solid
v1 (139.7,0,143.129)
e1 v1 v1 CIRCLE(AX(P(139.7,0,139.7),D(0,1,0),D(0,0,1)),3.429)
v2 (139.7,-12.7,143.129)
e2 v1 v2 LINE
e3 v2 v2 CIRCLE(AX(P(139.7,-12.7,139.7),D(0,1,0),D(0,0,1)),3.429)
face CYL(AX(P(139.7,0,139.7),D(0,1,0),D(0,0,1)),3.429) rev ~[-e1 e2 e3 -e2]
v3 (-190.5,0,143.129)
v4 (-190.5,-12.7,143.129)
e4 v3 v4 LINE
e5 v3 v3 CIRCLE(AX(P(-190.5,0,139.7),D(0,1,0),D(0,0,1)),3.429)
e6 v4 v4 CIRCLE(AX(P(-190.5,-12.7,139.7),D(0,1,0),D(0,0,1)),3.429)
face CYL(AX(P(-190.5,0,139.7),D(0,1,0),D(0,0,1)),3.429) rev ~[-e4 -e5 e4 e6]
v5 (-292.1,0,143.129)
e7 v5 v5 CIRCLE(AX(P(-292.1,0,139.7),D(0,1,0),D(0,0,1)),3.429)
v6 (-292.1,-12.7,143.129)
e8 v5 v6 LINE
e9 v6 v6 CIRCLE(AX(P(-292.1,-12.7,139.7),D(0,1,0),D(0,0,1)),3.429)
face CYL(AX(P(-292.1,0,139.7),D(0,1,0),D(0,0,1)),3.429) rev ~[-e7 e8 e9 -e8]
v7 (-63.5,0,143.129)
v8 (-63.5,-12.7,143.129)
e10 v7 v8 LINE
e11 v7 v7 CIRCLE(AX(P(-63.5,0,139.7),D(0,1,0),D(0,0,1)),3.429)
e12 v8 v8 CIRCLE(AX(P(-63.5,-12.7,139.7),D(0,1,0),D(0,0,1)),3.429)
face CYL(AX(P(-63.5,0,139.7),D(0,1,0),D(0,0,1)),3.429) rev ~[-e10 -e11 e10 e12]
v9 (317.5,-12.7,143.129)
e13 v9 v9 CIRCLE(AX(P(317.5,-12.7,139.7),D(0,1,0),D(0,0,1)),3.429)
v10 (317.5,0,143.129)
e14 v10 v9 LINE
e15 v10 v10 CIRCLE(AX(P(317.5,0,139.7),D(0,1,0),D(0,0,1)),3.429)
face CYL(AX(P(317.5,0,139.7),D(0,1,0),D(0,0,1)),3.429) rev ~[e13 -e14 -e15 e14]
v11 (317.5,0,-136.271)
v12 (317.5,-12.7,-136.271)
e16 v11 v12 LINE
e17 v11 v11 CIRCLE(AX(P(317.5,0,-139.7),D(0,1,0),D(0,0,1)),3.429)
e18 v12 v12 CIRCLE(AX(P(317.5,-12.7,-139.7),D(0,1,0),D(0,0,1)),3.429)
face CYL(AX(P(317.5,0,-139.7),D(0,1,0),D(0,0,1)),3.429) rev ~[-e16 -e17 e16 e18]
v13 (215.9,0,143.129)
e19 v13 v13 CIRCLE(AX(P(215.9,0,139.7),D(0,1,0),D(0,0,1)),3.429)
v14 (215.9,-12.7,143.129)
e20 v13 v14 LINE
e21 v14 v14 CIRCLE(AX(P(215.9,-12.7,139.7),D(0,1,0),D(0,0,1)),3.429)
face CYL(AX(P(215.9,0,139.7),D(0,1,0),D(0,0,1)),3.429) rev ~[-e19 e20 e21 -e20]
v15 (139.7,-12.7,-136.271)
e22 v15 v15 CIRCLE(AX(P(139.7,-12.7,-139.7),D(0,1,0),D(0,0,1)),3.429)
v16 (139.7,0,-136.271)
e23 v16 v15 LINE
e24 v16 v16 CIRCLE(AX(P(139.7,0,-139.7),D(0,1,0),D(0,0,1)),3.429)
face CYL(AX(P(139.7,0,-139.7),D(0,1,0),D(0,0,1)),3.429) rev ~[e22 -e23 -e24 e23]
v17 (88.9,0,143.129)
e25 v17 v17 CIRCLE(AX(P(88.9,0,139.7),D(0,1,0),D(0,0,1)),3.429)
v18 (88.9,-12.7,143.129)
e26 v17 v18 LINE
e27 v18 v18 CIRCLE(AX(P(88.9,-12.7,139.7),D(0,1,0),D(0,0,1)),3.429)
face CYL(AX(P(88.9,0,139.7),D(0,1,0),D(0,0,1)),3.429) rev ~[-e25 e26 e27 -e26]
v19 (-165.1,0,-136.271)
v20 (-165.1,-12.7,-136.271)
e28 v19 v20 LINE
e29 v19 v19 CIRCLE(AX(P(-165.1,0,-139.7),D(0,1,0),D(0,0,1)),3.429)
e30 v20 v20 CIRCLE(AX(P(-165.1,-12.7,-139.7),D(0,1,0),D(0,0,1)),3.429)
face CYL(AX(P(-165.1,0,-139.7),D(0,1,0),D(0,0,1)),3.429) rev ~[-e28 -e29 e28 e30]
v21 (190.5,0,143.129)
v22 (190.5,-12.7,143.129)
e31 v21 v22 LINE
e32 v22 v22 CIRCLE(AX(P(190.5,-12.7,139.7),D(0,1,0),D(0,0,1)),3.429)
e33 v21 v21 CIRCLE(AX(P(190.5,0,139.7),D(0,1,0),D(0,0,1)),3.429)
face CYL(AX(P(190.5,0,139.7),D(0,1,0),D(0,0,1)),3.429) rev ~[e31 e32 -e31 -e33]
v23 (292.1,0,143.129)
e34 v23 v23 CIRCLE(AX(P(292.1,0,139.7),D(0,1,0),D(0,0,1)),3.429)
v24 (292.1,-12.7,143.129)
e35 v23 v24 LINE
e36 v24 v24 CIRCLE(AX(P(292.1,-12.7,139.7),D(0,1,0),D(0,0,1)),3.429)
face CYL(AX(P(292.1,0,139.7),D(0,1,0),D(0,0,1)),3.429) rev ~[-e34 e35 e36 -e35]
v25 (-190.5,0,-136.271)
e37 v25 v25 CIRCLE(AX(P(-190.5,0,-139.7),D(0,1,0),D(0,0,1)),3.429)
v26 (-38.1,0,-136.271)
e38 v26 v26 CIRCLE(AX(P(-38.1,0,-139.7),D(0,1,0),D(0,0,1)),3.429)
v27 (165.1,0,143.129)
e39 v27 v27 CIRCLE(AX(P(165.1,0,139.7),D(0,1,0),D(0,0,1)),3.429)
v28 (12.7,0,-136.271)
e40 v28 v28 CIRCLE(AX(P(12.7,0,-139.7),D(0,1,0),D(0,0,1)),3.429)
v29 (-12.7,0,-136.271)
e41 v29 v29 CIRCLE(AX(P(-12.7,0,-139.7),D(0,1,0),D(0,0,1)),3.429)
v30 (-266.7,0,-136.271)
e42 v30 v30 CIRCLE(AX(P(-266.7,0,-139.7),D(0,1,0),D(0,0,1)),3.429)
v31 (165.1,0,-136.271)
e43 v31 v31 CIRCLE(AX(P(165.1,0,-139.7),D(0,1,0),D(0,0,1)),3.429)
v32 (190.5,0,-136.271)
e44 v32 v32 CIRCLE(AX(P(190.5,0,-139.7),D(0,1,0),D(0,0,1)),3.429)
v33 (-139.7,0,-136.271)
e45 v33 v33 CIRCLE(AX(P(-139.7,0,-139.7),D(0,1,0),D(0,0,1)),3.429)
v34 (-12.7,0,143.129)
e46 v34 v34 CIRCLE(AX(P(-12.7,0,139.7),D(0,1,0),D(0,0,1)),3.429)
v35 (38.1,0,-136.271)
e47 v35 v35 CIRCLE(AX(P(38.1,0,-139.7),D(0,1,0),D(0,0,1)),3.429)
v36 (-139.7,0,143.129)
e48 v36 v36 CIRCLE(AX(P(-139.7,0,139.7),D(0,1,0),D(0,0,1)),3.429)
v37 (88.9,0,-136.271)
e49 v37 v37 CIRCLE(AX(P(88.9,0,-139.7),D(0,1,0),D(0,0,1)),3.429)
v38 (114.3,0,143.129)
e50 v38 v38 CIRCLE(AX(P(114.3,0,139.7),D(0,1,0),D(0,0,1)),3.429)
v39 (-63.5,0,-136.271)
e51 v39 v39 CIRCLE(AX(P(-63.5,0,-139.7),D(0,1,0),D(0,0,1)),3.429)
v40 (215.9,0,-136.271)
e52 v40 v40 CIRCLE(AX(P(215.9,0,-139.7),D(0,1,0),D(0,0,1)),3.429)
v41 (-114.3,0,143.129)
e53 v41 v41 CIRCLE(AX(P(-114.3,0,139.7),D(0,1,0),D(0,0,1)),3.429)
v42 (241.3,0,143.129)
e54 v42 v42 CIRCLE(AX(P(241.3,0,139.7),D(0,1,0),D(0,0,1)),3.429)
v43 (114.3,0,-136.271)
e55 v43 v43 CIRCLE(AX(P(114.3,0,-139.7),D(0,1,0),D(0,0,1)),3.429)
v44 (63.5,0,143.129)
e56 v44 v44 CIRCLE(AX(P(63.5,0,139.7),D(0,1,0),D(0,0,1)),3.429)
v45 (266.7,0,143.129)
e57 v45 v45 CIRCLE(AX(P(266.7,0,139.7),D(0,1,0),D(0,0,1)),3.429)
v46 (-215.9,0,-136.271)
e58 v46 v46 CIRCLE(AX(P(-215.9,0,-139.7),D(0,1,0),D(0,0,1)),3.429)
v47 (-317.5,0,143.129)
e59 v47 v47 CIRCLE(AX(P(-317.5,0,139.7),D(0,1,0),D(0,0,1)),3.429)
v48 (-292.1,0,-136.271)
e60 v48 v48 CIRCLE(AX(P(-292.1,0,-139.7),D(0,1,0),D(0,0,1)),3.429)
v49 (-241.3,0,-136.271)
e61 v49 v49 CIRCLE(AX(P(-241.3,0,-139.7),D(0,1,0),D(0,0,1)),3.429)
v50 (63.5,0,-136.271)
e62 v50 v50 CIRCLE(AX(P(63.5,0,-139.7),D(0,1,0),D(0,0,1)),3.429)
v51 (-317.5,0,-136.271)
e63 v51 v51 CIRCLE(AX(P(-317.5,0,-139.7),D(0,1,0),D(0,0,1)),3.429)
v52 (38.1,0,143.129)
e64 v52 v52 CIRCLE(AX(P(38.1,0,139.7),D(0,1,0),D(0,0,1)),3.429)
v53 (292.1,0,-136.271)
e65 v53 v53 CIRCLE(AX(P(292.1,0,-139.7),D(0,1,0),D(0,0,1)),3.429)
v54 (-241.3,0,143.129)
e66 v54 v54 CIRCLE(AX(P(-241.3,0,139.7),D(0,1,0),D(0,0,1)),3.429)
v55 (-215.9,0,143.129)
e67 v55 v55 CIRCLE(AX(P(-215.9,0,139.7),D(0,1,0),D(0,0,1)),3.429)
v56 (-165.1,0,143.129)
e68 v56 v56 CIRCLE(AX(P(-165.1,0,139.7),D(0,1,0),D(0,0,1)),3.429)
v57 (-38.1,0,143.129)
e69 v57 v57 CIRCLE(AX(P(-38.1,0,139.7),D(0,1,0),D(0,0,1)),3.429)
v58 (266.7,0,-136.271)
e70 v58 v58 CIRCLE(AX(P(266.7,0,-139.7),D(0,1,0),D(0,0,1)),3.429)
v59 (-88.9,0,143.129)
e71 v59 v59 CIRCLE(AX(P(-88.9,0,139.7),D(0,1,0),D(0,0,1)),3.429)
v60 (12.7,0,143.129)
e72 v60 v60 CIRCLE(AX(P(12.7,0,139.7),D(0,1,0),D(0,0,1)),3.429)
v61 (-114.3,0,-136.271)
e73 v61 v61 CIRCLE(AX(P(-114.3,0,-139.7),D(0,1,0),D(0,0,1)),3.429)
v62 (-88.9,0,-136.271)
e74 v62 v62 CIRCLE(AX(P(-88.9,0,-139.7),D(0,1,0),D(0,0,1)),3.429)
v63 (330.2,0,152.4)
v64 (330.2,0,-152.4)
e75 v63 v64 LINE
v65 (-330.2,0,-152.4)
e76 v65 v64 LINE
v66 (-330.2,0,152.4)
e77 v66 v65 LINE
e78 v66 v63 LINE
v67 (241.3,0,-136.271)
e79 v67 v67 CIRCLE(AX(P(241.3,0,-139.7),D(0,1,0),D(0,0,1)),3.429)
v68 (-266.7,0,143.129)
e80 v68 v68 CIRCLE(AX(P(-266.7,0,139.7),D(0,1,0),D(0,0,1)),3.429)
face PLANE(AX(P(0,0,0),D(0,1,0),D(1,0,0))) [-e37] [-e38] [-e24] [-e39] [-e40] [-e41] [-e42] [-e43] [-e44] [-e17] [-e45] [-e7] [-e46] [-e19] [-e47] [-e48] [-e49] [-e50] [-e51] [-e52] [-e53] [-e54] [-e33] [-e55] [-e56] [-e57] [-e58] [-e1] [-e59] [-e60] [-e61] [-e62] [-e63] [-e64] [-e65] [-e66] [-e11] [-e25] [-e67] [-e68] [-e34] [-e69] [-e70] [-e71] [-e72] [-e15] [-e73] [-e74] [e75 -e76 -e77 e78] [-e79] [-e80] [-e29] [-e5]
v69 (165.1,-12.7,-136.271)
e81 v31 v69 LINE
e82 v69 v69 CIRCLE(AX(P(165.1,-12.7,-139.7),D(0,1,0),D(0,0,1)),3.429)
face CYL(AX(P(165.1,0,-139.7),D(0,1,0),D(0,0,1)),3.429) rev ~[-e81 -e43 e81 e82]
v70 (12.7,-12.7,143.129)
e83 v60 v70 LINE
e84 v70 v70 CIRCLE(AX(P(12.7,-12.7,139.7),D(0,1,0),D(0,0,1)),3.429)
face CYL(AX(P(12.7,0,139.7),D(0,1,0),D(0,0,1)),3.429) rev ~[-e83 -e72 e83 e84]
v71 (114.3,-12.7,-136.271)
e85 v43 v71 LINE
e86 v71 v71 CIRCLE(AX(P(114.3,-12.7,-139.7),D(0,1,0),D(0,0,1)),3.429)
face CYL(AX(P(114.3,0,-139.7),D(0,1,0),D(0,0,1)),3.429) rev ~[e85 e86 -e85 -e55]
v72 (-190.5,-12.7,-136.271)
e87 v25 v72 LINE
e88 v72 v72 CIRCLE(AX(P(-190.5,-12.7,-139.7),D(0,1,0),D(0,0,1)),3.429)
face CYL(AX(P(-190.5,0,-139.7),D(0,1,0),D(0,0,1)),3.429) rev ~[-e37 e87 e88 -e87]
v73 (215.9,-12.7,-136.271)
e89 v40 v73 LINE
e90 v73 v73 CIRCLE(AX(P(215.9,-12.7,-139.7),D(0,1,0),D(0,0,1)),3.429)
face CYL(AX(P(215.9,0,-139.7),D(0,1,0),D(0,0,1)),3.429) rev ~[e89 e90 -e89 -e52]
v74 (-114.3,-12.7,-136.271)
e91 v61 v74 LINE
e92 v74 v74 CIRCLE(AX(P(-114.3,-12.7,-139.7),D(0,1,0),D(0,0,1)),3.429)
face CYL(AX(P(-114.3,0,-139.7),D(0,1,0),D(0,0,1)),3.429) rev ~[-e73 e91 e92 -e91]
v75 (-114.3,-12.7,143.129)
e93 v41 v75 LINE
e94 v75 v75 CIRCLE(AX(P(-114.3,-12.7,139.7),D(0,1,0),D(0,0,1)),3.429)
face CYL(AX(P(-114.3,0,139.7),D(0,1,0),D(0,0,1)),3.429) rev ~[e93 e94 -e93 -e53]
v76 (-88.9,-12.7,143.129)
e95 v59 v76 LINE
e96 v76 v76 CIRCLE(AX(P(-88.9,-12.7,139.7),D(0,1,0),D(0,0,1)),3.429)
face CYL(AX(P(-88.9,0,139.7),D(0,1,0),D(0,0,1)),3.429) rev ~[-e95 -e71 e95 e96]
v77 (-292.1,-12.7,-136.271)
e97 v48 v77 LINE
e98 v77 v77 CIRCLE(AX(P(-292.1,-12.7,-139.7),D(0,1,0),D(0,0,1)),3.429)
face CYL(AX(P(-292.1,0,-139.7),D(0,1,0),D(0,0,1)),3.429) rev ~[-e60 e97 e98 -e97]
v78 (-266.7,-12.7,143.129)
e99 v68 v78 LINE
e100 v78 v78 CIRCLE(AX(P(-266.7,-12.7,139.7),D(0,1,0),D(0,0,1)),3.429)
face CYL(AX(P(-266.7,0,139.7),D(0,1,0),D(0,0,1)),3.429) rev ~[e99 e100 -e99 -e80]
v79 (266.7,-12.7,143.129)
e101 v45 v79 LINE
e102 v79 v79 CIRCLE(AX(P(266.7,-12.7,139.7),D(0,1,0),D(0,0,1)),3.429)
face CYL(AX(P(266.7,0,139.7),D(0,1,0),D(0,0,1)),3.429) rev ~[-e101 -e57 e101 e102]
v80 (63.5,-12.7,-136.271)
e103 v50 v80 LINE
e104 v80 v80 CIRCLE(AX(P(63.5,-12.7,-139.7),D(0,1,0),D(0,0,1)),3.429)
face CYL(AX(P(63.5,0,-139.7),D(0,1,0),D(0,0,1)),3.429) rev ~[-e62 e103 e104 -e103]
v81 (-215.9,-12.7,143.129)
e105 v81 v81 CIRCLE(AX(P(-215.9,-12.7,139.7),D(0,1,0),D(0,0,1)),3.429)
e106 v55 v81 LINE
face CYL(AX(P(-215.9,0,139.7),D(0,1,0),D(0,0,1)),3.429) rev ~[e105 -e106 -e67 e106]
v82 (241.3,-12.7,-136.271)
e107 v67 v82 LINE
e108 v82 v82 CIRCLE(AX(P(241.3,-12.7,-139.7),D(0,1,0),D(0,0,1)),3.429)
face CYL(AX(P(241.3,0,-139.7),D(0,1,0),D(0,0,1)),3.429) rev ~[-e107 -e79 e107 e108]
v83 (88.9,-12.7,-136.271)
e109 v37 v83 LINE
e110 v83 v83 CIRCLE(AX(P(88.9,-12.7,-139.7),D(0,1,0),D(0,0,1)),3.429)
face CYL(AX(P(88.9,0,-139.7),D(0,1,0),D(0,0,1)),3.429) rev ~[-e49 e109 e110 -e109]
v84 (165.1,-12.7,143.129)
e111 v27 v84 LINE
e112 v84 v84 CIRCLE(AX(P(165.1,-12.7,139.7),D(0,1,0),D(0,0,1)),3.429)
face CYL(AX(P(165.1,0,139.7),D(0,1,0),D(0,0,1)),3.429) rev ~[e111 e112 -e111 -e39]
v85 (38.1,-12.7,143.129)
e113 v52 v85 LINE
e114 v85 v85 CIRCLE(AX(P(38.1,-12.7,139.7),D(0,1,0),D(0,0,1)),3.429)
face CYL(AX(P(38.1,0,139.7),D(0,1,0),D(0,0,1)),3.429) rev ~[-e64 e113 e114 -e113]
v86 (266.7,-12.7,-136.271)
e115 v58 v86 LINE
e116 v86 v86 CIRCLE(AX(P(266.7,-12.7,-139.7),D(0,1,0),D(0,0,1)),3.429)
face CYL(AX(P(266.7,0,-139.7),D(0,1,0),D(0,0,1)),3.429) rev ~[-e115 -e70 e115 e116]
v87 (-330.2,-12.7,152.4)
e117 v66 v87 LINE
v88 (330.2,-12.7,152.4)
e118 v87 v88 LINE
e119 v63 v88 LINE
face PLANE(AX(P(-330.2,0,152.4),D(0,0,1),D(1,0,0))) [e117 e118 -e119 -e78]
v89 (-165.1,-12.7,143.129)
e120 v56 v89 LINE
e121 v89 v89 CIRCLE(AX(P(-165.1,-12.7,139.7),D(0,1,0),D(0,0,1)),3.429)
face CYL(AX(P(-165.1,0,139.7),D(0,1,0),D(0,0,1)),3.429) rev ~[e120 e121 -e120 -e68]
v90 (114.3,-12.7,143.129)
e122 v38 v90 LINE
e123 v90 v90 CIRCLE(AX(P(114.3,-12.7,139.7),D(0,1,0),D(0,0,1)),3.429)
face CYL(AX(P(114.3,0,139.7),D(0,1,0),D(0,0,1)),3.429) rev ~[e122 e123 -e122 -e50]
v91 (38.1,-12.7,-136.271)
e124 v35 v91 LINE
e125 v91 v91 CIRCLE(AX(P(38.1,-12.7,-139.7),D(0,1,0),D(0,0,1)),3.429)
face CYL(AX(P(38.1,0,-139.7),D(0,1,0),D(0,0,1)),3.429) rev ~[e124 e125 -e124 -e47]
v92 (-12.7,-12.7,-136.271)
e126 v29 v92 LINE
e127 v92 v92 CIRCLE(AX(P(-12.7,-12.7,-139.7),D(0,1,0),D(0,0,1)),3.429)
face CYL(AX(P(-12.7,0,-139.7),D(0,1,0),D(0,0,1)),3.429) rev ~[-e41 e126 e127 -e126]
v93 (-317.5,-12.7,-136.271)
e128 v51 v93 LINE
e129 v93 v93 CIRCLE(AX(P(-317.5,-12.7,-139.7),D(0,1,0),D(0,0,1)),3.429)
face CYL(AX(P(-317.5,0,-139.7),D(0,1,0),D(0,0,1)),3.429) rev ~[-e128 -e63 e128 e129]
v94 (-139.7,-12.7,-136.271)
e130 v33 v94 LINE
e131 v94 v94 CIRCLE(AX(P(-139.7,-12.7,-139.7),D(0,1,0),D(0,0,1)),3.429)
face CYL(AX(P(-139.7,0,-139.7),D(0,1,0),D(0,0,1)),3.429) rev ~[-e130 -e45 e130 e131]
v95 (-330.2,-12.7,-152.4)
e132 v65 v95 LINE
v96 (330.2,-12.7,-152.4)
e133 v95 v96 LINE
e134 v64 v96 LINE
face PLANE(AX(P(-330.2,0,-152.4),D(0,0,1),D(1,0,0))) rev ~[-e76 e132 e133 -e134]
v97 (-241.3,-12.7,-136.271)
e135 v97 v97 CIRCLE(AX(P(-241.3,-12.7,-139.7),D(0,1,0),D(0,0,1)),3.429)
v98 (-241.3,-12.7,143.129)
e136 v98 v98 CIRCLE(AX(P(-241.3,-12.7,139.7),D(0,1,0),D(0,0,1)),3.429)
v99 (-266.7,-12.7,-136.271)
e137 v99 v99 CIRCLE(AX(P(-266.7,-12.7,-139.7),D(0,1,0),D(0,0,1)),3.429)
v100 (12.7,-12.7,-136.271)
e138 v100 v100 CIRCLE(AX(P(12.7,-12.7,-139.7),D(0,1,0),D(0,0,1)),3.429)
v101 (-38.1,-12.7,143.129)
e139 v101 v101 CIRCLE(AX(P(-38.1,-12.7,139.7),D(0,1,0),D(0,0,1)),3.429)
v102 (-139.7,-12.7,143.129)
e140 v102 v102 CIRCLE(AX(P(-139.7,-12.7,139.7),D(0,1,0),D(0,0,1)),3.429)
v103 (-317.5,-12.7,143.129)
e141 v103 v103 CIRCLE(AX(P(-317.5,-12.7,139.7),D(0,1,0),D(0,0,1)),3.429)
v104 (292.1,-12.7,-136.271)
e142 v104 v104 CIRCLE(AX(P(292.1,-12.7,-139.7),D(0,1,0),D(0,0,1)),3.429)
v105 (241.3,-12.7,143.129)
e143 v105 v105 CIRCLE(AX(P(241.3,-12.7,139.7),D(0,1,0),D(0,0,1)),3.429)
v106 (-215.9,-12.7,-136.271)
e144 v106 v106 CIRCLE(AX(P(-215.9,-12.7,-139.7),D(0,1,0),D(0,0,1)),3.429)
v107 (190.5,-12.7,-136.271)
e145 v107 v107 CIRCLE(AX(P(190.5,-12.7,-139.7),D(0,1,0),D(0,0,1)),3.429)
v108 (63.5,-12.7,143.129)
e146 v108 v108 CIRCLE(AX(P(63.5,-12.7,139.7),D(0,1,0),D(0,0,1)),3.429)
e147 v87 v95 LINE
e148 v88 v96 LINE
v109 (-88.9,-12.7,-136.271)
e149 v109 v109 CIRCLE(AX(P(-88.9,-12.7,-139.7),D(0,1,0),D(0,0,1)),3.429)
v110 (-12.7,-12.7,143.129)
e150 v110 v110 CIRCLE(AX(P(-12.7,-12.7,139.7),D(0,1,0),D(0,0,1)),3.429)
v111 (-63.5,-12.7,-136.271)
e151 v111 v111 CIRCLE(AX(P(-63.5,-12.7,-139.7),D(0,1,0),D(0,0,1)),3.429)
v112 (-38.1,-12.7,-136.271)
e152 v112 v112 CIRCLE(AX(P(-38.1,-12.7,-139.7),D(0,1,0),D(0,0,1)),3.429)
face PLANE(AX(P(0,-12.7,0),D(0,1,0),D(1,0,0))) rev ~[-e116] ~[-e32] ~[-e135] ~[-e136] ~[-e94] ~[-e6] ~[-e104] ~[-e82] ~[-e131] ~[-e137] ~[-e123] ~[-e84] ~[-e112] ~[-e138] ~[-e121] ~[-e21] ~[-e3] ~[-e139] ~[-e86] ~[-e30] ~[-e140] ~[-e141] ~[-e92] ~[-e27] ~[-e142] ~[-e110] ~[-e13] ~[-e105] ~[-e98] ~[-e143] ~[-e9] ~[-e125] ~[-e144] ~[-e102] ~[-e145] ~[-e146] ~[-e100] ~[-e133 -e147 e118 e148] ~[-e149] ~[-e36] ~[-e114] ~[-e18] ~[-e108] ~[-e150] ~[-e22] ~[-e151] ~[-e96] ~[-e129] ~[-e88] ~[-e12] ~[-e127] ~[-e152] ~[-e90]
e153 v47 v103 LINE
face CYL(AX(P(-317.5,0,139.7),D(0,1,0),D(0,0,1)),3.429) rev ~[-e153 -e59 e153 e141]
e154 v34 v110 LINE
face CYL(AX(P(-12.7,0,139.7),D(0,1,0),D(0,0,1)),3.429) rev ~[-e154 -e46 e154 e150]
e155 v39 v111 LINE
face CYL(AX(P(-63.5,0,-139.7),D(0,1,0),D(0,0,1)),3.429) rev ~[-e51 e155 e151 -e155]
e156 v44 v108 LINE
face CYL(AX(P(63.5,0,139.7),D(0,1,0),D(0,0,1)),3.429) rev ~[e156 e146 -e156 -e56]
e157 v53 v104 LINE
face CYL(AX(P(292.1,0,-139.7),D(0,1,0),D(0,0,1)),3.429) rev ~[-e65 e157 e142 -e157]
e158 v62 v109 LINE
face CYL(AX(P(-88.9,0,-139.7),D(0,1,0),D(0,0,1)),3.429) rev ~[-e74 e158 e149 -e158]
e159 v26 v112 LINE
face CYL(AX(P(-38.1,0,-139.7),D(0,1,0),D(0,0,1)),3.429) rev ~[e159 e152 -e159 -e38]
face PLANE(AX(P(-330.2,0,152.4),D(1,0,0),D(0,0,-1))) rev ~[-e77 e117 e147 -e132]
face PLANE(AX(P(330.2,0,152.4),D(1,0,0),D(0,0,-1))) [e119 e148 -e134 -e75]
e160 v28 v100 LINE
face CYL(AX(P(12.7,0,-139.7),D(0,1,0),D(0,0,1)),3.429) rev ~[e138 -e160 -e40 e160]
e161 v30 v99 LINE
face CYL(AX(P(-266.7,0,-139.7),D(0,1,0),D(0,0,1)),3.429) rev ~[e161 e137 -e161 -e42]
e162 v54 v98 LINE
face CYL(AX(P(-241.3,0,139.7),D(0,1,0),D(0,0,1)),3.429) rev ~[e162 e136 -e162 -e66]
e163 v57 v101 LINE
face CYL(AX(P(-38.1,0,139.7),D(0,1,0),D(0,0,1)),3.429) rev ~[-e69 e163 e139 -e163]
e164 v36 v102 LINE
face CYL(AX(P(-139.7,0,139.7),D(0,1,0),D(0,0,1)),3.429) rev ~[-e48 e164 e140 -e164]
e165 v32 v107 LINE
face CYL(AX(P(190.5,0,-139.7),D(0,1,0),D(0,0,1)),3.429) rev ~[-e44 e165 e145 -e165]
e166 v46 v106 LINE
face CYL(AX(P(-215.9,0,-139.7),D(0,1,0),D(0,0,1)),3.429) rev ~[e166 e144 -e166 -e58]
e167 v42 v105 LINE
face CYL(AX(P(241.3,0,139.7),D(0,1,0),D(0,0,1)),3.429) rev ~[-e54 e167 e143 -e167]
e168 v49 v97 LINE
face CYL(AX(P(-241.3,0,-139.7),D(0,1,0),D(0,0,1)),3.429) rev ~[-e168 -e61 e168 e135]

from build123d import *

# Parameters (mm, degrees)
SKETCH1_W           = 660.4
SKETCH1_H           = 304.8
SKETCH1_R           = 3.429
BOSS_EXTRUDE1_DEPTH = 12.7


with BuildPart() as part:
    # Sketch1 → Boss-Extrude1 (new body)
    with BuildSketch(Plane(origin=(0, 0, 0), x_dir=(1, 0, 0), z_dir=(0, 1, 0))):
        Rectangle(SKETCH1_W, SKETCH1_H)
        with Locations(Location((-317.5, 139.7, 0), (0, 0, 270))):
            Circle(SKETCH1_R, mode=Mode.SUBTRACT)
        with Locations(Location((-292.1, 139.7, 0), (0, 0, 270))):
            Circle(SKETCH1_R, mode=Mode.SUBTRACT)
        with Locations(Location((-266.7, 139.7, 0), (0, 0, 270))):
            Circle(SKETCH1_R, mode=Mode.SUBTRACT)
        with Locations(Location((-241.3, 139.7, 0), (0, 0, 270))):
            Circle(SKETCH1_R, mode=Mode.SUBTRACT)
        with Locations(Location((-215.9, 139.7, 0), (0, 0, 270))):
            Circle(SKETCH1_R, mode=Mode.SUBTRACT)
        with Locations(Location((-190.5, 139.7, 0), (0, 0, 270))):
            Circle(SKETCH1_R, mode=Mode.SUBTRACT)
        with Locations(Location((-165.1, 139.7, 0), (0, 0, 270))):
            Circle(SKETCH1_R, mode=Mode.SUBTRACT)
        with Locations(Location((-139.7, 139.7, 0), (0, 0, 270))):
            Circle(SKETCH1_R, mode=Mode.SUBTRACT)
        with Locations(Location((-114.3, 139.7, 0), (0, 0, 270))):
            Circle(SKETCH1_R, mode=Mode.SUBTRACT)
        with Locations(Location((-88.9, 139.7, 0), (0, 0, 270))):
            Circle(SKETCH1_R, mode=Mode.SUBTRACT)
        with Locations(Location((-63.5, 139.7, 0), (0, 0, 270))):
            Circle(SKETCH1_R, mode=Mode.SUBTRACT)
        with Locations(Location((-38.1, 139.7, 0), (0, 0, 270))):
            Circle(SKETCH1_R, mode=Mode.SUBTRACT)
        with Locations(Location((-12.7, 139.7, 0), (0, 0, 270))):
            Circle(SKETCH1_R, mode=Mode.SUBTRACT)
        with Locations(Location((12.7, 139.7, 0), (0, 0, 270))):
            Circle(SKETCH1_R, mode=Mode.SUBTRACT)
        with Locations(Location((38.1, 139.7, 0), (0, 0, 270))):
            Circle(SKETCH1_R, mode=Mode.SUBTRACT)
        with Locations(Location((63.5, 139.7, 0), (0, 0, 270))):
            Circle(SKETCH1_R, mode=Mode.SUBTRACT)
        with Locations(Location((88.9, 139.7, 0), (0, 0, 270))):
            Circle(SKETCH1_R, mode=Mode.SUBTRACT)
        with Locations(Location((114.3, 139.7, 0), (0, 0, 270))):
            Circle(SKETCH1_R, mode=Mode.SUBTRACT)
        with Locations(Location((139.7, 139.7, 0), (0, 0, 270))):
            Circle(SKETCH1_R, mode=Mode.SUBTRACT)
        with Locations(Location((165.1, 139.7, 0), (0, 0, 270))):
            Circle(SKETCH1_R, mode=Mode.SUBTRACT)
        with Locations(Location((190.5, 139.7, 0), (0, 0, 270))):
            Circle(SKETCH1_R, mode=Mode.SUBTRACT)
        with Locations(Location((215.9, 139.7, 0), (0, 0, 270))):
            Circle(SKETCH1_R, mode=Mode.SUBTRACT)
        with Locations(Location((241.3, 139.7, 0), (0, 0, 270))):
            Circle(SKETCH1_R, mode=Mode.SUBTRACT)
        with Locations(Location((266.7, 139.7, 0), (0, 0, 270))):
            Circle(SKETCH1_R, mode=Mode.SUBTRACT)
        with Locations(Location((292.1, 139.7, 0), (0, 0, 270))):
            Circle(SKETCH1_R, mode=Mode.SUBTRACT)
        with Locations(Location((317.5, 139.7, 0), (0, 0, 270))):
            Circle(SKETCH1_R, mode=Mode.SUBTRACT)
        with Locations(Location((-292.1, -139.7, 0), (0, 0, 270))):
            Circle(SKETCH1_R, mode=Mode.SUBTRACT)
        with Locations(Location((-266.7, -139.7, 0), (0, 0, 270))):
            Circle(SKETCH1_R, mode=Mode.SUBTRACT)
        with Locations(Location((-241.3, -139.7, 0), (0, 0, 270))):
            Circle(SKETCH1_R, mode=Mode.SUBTRACT)
        with Locations(Location((-215.9, -139.7, 0), (0, 0, 270))):
            Circle(SKETCH1_R, mode=Mode.SUBTRACT)
        with Locations(Location((-190.5, -139.7, 0), (0, 0, 270))):
            Circle(SKETCH1_R, mode=Mode.SUBTRACT)
        with Locations(Location((-165.1, -139.7, 0), (0, 0, 270))):
            Circle(SKETCH1_R, mode=Mode.SUBTRACT)
        with Locations(Location((-139.7, -139.7, 0), (0, 0, 270))):
            Circle(SKETCH1_R, mode=Mode.SUBTRACT)
        with Locations(Location((-114.3, -139.7, 0), (0, 0, 270))):
            Circle(SKETCH1_R, mode=Mode.SUBTRACT)
        with Locations(Location((-88.9, -139.7, 0), (0, 0, 270))):
            Circle(SKETCH1_R, mode=Mode.SUBTRACT)
        with Locations(Location((-63.5, -139.7, 0), (0, 0, 270))):
            Circle(SKETCH1_R, mode=Mode.SUBTRACT)
        with Locations(Location((-38.1, -139.7, 0), (0, 0, 270))):
            Circle(SKETCH1_R, mode=Mode.SUBTRACT)
        with Locations(Location((-12.7, -139.7, 0), (0, 0, 270))):
            Circle(SKETCH1_R, mode=Mode.SUBTRACT)
        with Locations(Location((12.7, -139.7, 0), (0, 0, 270))):
            Circle(SKETCH1_R, mode=Mode.SUBTRACT)
        with Locations(Location((38.1, -139.7, 0), (0, 0, 270))):
            Circle(SKETCH1_R, mode=Mode.SUBTRACT)
        with Locations(Location((63.5, -139.7, 0), (0, 0, 270))):
            Circle(SKETCH1_R, mode=Mode.SUBTRACT)
        with Locations(Location((88.9, -139.7, 0), (0, 0, 270))):
            Circle(SKETCH1_R, mode=Mode.SUBTRACT)
        with Locations(Location((114.3, -139.7, 0), (0, 0, 270))):
            Circle(SKETCH1_R, mode=Mode.SUBTRACT)
        with Locations(Location((139.7, -139.7, 0), (0, 0, 270))):
            Circle(SKETCH1_R, mode=Mode.SUBTRACT)
        with Locations(Location((165.1, -139.7, 0), (0, 0, 270))):
            Circle(SKETCH1_R, mode=Mode.SUBTRACT)
        with Locations(Location((190.5, -139.7, 0), (0, 0, 270))):
            Circle(SKETCH1_R, mode=Mode.SUBTRACT)
        with Locations(Location((215.9, -139.7, 0), (0, 0, 270))):
            Circle(SKETCH1_R, mode=Mode.SUBTRACT)
        with Locations(Location((241.3, -139.7, 0), (0, 0, 270))):
            Circle(SKETCH1_R, mode=Mode.SUBTRACT)
        with Locations(Location((266.7, -139.7, 0), (0, 0, 270))):
            Circle(SKETCH1_R, mode=Mode.SUBTRACT)
        with Locations(Location((292.1, -139.7, 0), (0, 0, 270))):
            Circle(SKETCH1_R, mode=Mode.SUBTRACT)
        with Locations(Location((317.5, -139.7, 0), (0, 0, 270))):
            Circle(SKETCH1_R, mode=Mode.SUBTRACT)
        with Locations(Location((-317.5, -139.7, 0), (0, 0, 270))):
            Circle(SKETCH1_R, mode=Mode.SUBTRACT)
    extrude(amount=-BOSS_EXTRUDE1_DEPTH)


solid = part.part
